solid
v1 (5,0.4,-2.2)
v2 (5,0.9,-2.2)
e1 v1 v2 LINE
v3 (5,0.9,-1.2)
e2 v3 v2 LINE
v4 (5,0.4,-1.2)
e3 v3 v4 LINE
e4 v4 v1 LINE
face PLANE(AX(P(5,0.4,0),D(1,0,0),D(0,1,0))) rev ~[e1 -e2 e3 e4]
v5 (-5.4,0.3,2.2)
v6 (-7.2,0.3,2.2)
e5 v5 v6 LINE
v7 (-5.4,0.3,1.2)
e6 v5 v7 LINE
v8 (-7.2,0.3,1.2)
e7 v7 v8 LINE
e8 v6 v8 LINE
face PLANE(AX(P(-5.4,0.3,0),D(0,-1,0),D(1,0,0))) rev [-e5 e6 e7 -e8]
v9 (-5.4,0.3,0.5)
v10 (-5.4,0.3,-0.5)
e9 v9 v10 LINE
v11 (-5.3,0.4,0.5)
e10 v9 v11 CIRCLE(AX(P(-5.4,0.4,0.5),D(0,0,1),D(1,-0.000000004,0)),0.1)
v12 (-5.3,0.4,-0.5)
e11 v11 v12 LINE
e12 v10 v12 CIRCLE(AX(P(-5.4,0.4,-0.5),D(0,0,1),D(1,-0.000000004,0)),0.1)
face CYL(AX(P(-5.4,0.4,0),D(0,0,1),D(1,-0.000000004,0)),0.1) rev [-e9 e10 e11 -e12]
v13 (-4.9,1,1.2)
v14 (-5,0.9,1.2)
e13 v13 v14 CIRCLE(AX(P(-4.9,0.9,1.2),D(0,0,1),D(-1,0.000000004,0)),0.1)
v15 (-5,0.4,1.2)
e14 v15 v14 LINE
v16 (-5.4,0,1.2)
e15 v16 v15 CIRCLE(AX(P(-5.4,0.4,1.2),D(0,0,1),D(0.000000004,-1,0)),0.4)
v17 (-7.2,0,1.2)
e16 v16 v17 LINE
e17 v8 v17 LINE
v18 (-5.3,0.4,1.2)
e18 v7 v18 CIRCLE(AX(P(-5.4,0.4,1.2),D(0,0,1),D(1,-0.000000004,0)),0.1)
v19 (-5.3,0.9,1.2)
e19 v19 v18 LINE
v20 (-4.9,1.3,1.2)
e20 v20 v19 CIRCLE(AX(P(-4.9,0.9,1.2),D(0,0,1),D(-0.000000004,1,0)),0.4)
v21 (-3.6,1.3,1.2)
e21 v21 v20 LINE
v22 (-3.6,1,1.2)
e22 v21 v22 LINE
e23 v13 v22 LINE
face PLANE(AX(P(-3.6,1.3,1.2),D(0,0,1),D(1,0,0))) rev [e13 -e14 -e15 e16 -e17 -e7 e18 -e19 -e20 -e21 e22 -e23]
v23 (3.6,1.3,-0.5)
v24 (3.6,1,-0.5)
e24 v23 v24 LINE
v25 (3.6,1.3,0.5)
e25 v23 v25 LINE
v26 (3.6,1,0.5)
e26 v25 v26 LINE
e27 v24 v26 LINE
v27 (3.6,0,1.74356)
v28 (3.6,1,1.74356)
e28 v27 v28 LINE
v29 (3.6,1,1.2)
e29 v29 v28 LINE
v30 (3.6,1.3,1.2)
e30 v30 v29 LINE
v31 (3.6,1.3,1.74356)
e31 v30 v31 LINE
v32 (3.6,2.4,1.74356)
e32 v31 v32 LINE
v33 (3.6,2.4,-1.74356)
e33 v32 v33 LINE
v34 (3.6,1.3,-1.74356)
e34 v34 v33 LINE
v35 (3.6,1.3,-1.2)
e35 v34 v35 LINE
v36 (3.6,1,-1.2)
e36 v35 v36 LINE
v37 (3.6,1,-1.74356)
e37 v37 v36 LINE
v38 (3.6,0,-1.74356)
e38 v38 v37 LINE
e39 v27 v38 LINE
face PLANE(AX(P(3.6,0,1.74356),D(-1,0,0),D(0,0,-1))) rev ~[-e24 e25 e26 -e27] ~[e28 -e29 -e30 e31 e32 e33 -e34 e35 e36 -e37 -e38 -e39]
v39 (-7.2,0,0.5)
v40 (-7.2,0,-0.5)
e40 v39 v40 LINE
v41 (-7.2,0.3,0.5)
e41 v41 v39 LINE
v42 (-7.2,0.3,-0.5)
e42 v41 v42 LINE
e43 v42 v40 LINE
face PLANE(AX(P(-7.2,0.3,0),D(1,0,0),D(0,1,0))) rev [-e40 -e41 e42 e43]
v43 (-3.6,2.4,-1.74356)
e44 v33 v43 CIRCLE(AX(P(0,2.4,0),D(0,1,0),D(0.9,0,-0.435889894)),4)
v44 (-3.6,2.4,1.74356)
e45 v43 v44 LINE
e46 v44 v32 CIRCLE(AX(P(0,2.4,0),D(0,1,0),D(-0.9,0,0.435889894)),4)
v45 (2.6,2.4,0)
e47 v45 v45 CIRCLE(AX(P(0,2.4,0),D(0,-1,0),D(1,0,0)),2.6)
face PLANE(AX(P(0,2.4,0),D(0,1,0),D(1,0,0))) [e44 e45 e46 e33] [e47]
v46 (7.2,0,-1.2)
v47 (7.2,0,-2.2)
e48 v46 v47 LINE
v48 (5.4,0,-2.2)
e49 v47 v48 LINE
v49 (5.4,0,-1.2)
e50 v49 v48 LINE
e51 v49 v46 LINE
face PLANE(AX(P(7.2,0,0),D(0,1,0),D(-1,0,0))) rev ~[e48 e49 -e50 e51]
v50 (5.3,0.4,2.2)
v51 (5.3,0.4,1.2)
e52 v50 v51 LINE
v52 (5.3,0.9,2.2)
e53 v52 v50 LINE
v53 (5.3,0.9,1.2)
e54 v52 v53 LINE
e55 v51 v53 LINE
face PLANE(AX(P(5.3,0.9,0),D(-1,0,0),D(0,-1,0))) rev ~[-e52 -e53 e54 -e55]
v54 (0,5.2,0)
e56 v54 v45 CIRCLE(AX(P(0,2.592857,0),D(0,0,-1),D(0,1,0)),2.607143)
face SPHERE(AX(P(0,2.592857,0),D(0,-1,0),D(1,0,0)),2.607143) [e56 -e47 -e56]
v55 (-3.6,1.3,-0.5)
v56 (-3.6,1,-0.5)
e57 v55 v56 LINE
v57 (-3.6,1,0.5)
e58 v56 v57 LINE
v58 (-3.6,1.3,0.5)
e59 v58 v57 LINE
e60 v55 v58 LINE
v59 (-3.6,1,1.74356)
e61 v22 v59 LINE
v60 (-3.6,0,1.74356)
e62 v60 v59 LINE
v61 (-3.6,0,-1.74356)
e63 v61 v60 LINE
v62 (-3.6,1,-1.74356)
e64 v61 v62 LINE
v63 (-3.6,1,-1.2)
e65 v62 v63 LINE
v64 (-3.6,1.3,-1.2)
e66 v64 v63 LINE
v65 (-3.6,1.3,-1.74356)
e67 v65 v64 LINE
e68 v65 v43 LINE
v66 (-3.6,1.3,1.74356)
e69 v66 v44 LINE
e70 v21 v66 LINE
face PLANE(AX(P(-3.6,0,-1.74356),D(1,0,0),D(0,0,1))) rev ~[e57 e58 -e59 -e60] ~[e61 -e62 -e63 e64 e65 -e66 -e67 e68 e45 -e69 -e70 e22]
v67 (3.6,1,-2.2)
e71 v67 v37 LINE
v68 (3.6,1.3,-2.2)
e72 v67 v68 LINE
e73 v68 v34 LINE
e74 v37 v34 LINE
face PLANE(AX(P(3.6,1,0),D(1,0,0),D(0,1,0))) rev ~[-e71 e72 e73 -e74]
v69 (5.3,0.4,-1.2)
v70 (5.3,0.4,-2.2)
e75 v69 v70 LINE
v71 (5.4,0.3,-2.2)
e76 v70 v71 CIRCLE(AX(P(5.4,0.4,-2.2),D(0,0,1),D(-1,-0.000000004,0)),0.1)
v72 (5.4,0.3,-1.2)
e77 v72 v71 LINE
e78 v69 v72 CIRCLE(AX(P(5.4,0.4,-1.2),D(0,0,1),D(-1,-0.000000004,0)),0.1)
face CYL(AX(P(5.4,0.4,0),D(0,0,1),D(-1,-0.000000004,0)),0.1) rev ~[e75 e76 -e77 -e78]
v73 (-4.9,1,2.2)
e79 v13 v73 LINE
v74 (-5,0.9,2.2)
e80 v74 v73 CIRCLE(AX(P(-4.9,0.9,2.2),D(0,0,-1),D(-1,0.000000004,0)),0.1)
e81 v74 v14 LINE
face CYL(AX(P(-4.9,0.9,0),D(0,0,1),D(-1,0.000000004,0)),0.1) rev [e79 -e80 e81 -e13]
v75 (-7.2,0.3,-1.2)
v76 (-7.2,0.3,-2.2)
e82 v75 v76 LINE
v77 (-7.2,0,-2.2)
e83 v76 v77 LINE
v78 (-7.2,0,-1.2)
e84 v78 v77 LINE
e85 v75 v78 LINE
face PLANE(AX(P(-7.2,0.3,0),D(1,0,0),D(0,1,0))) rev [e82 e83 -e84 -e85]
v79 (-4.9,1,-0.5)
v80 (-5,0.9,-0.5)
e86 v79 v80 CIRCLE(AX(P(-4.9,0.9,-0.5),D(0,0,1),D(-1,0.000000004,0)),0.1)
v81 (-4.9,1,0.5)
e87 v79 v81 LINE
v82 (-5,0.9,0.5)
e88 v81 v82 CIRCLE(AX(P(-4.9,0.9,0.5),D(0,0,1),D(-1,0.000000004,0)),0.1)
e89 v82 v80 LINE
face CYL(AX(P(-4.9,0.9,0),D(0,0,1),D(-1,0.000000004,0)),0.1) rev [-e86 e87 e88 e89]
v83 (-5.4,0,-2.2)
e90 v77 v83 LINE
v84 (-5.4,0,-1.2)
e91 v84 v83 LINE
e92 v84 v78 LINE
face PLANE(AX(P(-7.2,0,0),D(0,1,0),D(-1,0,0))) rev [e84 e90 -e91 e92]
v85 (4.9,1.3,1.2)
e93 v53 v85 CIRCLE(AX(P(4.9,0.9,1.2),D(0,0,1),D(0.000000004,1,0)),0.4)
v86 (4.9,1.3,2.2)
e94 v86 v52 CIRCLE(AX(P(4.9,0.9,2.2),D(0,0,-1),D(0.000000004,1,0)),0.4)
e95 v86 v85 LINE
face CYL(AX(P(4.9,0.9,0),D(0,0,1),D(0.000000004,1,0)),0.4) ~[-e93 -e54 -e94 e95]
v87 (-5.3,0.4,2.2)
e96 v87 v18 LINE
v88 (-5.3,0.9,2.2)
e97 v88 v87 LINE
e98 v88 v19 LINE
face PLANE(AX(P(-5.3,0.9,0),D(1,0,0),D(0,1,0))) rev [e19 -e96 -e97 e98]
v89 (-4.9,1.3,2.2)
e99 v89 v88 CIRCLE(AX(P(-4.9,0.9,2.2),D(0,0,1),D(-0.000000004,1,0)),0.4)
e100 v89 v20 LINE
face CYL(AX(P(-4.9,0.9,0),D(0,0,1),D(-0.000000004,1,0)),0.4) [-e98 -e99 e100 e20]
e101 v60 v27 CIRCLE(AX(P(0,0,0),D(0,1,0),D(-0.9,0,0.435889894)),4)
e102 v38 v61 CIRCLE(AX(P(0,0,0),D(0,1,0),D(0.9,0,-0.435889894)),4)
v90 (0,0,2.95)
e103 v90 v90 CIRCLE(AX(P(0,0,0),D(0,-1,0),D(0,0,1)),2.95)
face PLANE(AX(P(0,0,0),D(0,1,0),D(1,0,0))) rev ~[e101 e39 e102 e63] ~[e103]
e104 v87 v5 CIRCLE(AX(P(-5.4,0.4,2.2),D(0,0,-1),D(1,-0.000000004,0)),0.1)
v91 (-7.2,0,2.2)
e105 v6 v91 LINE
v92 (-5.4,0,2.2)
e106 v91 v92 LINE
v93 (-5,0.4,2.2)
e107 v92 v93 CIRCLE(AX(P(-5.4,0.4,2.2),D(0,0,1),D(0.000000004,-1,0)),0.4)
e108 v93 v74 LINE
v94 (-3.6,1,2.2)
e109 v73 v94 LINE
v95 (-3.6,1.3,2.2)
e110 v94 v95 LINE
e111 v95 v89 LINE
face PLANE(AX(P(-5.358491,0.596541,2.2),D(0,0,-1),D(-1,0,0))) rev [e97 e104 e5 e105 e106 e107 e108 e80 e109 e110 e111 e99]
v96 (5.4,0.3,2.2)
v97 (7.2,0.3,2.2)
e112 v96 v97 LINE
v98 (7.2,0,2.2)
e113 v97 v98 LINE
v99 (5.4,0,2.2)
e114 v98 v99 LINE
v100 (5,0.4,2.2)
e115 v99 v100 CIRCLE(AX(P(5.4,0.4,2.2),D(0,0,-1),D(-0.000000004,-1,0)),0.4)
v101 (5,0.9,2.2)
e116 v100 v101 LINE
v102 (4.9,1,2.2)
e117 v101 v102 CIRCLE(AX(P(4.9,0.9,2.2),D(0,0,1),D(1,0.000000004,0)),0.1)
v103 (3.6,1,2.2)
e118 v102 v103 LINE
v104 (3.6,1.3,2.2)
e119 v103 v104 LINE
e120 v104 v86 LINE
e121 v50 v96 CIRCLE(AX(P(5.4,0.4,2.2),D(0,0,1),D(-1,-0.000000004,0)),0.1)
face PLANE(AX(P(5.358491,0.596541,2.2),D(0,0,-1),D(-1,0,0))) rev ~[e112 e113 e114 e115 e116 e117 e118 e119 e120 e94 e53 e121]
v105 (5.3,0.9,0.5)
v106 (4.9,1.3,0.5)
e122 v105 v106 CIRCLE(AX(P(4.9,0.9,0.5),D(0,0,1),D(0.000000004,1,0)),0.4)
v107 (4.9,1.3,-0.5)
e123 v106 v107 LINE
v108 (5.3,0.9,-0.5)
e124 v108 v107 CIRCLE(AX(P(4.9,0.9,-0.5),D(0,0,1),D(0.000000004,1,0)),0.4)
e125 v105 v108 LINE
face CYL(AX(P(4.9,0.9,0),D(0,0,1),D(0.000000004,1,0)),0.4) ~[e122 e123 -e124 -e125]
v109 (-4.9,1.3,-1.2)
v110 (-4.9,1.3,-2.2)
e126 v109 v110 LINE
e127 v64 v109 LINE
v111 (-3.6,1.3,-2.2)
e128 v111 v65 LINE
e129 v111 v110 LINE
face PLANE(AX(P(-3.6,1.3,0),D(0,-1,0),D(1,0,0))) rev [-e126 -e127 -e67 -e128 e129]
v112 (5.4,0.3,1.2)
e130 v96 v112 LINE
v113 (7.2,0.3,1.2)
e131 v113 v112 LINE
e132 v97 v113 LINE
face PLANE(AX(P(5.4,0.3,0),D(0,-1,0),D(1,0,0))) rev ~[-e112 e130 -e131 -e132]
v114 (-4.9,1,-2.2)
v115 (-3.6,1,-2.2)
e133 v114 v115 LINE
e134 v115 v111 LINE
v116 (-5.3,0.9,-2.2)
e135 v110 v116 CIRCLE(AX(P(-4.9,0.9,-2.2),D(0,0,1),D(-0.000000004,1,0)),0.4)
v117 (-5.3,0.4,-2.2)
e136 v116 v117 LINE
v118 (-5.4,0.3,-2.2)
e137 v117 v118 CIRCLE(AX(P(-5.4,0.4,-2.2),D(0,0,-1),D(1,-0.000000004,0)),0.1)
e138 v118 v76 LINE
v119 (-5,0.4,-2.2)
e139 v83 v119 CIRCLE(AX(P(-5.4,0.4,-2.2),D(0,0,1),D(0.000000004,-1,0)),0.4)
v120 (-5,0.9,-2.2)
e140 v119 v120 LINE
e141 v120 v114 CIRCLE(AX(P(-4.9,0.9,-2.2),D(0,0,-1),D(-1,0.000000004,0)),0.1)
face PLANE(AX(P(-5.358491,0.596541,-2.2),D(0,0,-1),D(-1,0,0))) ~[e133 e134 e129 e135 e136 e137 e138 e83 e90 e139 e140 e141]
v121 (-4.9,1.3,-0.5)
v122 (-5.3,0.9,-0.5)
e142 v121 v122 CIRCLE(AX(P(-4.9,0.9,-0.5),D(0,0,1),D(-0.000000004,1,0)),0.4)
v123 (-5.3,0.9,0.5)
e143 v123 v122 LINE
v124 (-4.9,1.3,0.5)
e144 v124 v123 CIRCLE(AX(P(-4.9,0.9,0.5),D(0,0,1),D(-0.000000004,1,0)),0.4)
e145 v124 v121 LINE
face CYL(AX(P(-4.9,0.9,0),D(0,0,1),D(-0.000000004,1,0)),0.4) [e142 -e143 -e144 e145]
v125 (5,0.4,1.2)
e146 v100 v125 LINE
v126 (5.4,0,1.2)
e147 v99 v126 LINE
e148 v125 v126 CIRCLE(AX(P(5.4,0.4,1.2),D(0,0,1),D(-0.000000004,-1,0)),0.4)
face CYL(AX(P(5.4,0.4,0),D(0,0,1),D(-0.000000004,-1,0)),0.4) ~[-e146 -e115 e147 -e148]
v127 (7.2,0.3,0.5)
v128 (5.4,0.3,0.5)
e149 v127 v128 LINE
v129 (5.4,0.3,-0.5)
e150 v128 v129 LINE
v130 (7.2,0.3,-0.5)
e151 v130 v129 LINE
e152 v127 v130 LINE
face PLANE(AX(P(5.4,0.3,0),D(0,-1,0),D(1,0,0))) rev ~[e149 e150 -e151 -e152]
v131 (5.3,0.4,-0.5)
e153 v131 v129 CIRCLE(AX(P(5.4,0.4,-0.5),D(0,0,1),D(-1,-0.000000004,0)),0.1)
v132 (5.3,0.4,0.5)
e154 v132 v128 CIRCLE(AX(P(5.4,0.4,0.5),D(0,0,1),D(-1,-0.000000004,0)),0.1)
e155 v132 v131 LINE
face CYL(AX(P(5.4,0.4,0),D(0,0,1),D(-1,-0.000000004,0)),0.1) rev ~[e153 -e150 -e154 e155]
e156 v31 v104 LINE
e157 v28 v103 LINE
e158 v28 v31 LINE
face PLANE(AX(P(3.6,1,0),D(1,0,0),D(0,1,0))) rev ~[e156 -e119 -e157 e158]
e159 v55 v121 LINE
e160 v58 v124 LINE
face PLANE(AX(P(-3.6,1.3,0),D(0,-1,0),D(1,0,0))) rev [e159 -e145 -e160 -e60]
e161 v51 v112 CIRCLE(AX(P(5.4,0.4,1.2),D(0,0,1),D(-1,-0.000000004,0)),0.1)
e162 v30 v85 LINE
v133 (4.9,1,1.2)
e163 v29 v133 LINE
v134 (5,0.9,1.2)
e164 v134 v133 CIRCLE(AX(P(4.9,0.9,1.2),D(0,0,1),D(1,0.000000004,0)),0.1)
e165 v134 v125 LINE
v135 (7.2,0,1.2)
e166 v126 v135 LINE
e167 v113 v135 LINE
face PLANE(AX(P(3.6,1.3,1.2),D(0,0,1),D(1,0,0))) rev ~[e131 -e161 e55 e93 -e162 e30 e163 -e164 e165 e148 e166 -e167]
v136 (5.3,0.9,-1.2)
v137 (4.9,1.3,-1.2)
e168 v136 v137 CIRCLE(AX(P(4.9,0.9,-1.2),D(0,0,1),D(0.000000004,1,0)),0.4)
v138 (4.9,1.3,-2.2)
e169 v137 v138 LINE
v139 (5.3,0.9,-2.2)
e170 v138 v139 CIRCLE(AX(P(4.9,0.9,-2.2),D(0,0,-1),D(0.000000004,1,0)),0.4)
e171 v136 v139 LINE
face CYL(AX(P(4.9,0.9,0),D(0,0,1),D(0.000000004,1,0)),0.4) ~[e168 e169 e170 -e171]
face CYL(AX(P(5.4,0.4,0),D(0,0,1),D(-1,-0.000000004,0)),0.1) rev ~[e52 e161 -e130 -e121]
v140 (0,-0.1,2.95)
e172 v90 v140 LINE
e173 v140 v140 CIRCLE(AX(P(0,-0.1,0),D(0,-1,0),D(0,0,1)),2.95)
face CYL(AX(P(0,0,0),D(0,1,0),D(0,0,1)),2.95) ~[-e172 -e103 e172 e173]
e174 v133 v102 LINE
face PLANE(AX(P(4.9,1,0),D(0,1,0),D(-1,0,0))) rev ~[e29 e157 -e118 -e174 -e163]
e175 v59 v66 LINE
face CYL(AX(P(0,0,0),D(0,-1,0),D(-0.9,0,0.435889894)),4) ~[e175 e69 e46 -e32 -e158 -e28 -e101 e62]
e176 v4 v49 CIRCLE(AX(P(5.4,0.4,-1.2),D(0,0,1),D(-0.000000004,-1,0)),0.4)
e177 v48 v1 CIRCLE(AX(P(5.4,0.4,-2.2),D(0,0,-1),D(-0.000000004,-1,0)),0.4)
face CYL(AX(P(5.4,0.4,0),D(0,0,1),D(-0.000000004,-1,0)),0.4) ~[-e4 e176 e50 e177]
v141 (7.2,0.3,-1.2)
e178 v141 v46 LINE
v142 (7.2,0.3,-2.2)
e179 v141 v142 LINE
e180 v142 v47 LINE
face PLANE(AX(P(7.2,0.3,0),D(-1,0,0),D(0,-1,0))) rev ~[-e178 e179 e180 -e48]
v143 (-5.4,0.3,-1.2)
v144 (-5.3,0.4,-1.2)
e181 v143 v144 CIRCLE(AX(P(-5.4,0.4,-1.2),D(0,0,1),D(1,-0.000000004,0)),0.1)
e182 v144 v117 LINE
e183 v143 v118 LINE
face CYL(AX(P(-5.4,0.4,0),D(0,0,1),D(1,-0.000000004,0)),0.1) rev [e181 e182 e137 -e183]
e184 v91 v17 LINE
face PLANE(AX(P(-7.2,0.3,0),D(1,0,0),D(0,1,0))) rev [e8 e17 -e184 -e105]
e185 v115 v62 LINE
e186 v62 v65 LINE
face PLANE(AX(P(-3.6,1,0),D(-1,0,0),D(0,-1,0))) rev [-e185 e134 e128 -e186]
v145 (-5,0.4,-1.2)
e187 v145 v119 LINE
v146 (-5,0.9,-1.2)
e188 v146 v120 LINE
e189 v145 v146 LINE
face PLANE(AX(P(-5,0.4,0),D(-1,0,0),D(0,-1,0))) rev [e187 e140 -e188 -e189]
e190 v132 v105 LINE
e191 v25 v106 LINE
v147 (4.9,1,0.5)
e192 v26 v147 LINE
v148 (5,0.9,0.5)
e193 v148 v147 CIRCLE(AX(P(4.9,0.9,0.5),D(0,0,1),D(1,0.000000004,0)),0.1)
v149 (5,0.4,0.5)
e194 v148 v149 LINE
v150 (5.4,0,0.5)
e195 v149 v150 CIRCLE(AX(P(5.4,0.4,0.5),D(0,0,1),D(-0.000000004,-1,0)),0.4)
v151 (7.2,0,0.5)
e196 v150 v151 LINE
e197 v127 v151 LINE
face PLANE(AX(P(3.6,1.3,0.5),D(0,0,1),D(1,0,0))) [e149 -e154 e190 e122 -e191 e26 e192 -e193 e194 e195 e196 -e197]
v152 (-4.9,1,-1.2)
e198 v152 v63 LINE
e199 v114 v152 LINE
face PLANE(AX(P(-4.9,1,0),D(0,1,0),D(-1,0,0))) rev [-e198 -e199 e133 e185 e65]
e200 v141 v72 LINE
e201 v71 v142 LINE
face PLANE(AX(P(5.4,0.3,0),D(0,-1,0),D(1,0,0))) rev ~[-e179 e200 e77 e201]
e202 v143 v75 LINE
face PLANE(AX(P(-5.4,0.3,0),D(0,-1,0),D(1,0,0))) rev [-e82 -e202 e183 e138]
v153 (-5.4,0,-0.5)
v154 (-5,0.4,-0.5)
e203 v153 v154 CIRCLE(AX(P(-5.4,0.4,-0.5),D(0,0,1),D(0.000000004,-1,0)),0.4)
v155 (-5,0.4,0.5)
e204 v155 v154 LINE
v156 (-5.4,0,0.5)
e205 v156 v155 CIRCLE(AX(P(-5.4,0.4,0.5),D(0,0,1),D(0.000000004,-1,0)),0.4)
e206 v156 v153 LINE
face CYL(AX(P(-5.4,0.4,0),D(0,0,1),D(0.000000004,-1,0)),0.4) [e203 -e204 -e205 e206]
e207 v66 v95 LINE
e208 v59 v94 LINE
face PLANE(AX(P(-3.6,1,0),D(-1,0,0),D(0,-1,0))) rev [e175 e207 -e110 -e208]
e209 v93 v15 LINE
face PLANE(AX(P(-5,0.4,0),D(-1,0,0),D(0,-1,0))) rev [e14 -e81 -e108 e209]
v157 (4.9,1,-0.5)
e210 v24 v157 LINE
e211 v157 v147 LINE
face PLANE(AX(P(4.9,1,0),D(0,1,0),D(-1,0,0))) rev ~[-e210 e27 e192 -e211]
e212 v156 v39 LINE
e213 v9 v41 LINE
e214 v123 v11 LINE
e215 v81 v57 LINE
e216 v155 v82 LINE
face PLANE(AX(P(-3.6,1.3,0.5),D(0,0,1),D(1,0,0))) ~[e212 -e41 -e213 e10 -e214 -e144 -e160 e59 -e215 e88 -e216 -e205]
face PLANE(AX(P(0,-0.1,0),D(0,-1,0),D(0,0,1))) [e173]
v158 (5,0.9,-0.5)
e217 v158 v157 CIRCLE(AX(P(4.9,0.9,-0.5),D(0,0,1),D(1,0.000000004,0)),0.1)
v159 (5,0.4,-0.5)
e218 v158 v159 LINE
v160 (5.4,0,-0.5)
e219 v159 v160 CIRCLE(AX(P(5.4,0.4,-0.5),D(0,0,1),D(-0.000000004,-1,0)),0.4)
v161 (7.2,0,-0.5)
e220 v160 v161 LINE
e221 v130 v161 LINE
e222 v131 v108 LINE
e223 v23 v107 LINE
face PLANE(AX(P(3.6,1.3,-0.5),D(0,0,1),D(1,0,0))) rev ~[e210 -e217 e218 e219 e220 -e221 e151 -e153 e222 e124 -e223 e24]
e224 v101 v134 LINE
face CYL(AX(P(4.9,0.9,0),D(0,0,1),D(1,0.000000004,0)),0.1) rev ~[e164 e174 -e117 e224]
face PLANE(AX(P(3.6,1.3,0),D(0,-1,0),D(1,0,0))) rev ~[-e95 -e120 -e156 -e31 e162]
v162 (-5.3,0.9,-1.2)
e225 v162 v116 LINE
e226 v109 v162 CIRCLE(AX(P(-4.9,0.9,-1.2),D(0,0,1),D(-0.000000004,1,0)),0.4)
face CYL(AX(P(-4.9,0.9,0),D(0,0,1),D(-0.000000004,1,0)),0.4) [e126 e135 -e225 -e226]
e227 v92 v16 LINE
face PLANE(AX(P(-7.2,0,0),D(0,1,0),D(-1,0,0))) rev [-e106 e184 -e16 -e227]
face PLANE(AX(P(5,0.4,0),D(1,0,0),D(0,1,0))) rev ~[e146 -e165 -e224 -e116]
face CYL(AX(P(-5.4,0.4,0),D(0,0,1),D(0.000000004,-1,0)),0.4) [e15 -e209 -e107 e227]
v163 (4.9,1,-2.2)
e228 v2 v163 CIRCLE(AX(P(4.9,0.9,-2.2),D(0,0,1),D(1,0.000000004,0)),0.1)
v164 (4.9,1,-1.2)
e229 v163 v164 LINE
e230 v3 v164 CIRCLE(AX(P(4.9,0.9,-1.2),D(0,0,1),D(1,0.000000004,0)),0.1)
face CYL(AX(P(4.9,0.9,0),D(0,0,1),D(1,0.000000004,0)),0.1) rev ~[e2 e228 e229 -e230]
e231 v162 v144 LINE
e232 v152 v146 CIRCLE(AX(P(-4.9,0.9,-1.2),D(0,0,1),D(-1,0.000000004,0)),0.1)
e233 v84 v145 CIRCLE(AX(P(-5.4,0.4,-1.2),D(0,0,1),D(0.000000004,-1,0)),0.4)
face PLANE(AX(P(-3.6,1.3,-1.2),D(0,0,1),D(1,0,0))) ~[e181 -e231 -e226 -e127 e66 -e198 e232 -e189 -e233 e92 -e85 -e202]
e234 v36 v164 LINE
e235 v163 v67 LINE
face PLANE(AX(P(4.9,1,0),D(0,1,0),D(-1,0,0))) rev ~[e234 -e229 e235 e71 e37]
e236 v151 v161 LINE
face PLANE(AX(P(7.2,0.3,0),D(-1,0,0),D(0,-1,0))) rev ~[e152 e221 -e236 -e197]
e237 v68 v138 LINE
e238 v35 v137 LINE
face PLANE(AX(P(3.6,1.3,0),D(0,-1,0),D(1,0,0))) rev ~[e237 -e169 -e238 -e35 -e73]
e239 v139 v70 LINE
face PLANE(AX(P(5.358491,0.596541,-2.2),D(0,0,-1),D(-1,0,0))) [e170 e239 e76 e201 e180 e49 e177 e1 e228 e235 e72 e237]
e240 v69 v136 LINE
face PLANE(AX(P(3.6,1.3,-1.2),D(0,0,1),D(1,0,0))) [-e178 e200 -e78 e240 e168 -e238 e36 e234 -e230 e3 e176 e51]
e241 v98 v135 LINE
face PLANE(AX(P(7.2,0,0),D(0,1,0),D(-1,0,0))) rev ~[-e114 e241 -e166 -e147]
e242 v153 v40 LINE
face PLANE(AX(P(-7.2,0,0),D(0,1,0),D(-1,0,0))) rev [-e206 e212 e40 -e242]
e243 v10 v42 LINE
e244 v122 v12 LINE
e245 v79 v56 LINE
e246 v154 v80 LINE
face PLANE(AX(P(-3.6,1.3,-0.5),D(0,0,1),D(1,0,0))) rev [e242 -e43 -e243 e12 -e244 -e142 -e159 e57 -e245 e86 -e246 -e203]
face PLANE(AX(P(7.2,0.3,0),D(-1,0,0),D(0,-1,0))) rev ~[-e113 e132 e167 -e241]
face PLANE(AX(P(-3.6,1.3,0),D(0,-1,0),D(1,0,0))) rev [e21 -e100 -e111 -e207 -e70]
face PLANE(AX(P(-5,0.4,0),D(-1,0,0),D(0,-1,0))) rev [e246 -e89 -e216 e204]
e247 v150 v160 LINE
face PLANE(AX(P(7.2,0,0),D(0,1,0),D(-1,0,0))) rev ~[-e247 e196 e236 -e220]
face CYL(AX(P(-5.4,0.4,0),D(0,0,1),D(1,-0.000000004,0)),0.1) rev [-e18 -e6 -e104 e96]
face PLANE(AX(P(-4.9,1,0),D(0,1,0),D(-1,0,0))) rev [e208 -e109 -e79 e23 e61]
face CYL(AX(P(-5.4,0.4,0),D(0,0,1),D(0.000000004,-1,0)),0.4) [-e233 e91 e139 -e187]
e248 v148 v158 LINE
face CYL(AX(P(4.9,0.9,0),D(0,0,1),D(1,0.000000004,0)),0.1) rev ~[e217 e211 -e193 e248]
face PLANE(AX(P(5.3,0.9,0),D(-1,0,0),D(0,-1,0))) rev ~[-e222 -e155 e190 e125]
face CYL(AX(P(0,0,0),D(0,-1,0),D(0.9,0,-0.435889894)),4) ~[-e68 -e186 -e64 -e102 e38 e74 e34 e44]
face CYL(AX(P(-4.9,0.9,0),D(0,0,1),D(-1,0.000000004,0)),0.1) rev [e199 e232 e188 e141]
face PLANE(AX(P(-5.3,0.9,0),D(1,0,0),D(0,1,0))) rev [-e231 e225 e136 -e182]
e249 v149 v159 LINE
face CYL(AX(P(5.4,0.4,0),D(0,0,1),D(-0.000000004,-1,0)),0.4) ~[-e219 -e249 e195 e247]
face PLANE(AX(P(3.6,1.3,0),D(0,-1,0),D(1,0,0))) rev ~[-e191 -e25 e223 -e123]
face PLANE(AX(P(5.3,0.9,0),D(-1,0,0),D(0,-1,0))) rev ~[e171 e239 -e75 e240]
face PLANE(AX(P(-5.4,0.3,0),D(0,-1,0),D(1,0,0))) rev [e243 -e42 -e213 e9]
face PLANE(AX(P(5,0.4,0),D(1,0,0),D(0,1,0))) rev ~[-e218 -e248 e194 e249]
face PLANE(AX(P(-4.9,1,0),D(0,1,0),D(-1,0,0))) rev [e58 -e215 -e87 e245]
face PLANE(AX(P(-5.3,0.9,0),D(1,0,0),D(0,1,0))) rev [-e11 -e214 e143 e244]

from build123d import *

# Parameters (mm, degrees)
LED_BASE_BOSS_EXTRUDE1_DEPTH       = 2.4
PIN_RIGHT_BOSS_EXTRUDE2_DEPTH      = 2.2
PIN_RIGHT_SPACE_CUT_EXTRUDE1_REACH = 11.113
SKETCH5_W                          = 3.6
SKETCH5_H                          = 0.7
SKETCH6_R                          = 2.95
HEATSINK_BOSS_EXTRUDE3_DEPTH       = 0.1


with BuildPart() as part:
    # Sketch1 → LED Base Boss-Extrude1 (new body)
    with BuildSketch(Plane(origin=(0, 0, 0), x_dir=(1, 0, 0), z_dir=(0, 1, 0))):
        with BuildLine():
            Line((-3.6, 1.743559577), (-3.6, -1.743559577))
            ThreePointArc((-3.6, -1.743559577), (0, -4), (3.6, -1.743559577))
            Line((3.6, -1.743559577), (3.6, 1.743559577))
            ThreePointArc((3.6, 1.743559577), (0, 4), (-3.6, 1.743559577))
        make_face()
    extrude(amount=LED_BASE_BOSS_EXTRUDE1_DEPTH)

    # Sketch3 → LED Lens Revolve2 (revolve)
    with BuildSketch(Plane.XY):
        with BuildLine():
            Line((2.6, 2.4), (0, 2.4))
            Line((0, 2.4), (0, 5.2))
            ThreePointArc((0, 5.2), (1.910497317, 4.366890366), (2.6, 2.4))
        make_face()
    revolve(axis=Axis((0, 5.2, 0), (0, -1, 0)))

    # Sketch4 → Pin Right Boss-Extrude2 (add, symmetric)
    with BuildSketch(Plane.XY):
        with BuildLine():
            Line((3.6, 1.3), (4.9, 1.3))
            ThreePointArc((4.9, 1.3), (5.182842712, 1.182842712), (5.3, 0.9))
            Line((5.3, 0.9), (5.3, 0.4))
            ThreePointArc((5.3, 0.4), (5.329289322, 0.329289322), (5.4, 0.3))
            Line((5.4, 0.3), (7.2, 0.3))
            Line((7.2, 0.3), (7.2, 0))
            Line((7.2, 0), (5.4, 0))
            ThreePointArc((5.4, 0), (5.117157288, 0.117157288), (5, 0.4))
            Line((5, 0.4), (5, 0.9))
            ThreePointArc((5, 0.9), (4.970710678, 0.970710678), (4.9, 1))
            Line((4.9, 1), (3.6, 1))
            Line((3.6, 1), (3.6, 1.3))
        make_face()
    pin_right_boss_extrude2 = extrude(amount=PIN_RIGHT_BOSS_EXTRUDE2_DEPTH, both=True)

    # Pin Right Space Cut-Extrude1: up to this face of the body (flat: up to its plane)
    pin_right_space_cut_extrude1_end = Plane(part.part.faces().sort_by_distance((6.3, 0, 0))[0])
    # Sketch5 → Pin Right Space Cut-Extrude1 (cut, up to the picked face)
    with BuildSketch(Plane(origin=(0, 1.3, 0), x_dir=(1, 0, 0), z_dir=(0, 1, 0)), mode=Mode.PRIVATE) as pin_right_space_cut_extrude1_sk1:
        with Locations((5.4, 0.85)):
            Rectangle(SKETCH5_W, SKETCH5_H)
    pin_right_space_cut_extrude1_tool1 = split(extrude(pin_right_space_cut_extrude1_sk1.sketch, amount=-PIN_RIGHT_SPACE_CUT_EXTRUDE1_REACH, mode=Mode.PRIVATE), bisect_by=pin_right_space_cut_extrude1_end, keep=Keep.BOTH, mode=Mode.PRIVATE)
    # Sketch5 → Pin Right Space Cut-Extrude1 (cut, up to the picked face)
    with BuildSketch(Plane(origin=(0, 1.3, 0), x_dir=(1, 0, 0), z_dir=(0, 1, 0)), mode=Mode.PRIVATE) as pin_right_space_cut_extrude1_sk2:
        with Locations((5.4, -0.85)):
            Rectangle(SKETCH5_W, SKETCH5_H)
    pin_right_space_cut_extrude1_tool2 = split(extrude(pin_right_space_cut_extrude1_sk2.sketch, amount=-PIN_RIGHT_SPACE_CUT_EXTRUDE1_REACH, mode=Mode.PRIVATE), bisect_by=pin_right_space_cut_extrude1_end, keep=Keep.BOTH, mode=Mode.PRIVATE)
    pin_right_space_cut_extrude1_1 = pin_right_space_cut_extrude1_tool1.solids().sort_by(Axis((5.4, 1.3, -0.85), (0, -1, 0)))[0]
    add(pin_right_space_cut_extrude1_1, mode=Mode.SUBTRACT)
    pin_right_space_cut_extrude1_2 = pin_right_space_cut_extrude1_tool2.solids().sort_by(Axis((5.4, 1.3, 0.85), (0, -1, 0)))[0]
    add(pin_right_space_cut_extrude1_2, mode=Mode.SUBTRACT)
    pin_right_space_cut_extrude1 = pin_right_space_cut_extrude1_1 + pin_right_space_cut_extrude1_2  # Pin Right Space Cut-Extrude1 as one shape, for the pattern or mirror that repeats it

    # Pin Left Mirror1: Pin Right Boss-Extrude2, Pin Right Space Cut-Extrude1 across plane
    add(pin_right_boss_extrude2.mirror(Plane(origin=(0, 0, 0), x_dir=(0, 0, 1), z_dir=(1, 0, 0))))
    add(pin_right_space_cut_extrude1.mirror(Plane(origin=(0, 0, 0), x_dir=(0, 0, 1), z_dir=(1, 0, 0))), mode=Mode.SUBTRACT)

    # Sketch6 → Heatsink Boss-Extrude3 (add)
    with BuildSketch(Plane.XZ):
        with Locations(Location((0, 0, 0), (0, 0, 90))):
            Circle(SKETCH6_R)
    extrude(amount=HEATSINK_BOSS_EXTRUDE3_DEPTH)


solid = part.part
